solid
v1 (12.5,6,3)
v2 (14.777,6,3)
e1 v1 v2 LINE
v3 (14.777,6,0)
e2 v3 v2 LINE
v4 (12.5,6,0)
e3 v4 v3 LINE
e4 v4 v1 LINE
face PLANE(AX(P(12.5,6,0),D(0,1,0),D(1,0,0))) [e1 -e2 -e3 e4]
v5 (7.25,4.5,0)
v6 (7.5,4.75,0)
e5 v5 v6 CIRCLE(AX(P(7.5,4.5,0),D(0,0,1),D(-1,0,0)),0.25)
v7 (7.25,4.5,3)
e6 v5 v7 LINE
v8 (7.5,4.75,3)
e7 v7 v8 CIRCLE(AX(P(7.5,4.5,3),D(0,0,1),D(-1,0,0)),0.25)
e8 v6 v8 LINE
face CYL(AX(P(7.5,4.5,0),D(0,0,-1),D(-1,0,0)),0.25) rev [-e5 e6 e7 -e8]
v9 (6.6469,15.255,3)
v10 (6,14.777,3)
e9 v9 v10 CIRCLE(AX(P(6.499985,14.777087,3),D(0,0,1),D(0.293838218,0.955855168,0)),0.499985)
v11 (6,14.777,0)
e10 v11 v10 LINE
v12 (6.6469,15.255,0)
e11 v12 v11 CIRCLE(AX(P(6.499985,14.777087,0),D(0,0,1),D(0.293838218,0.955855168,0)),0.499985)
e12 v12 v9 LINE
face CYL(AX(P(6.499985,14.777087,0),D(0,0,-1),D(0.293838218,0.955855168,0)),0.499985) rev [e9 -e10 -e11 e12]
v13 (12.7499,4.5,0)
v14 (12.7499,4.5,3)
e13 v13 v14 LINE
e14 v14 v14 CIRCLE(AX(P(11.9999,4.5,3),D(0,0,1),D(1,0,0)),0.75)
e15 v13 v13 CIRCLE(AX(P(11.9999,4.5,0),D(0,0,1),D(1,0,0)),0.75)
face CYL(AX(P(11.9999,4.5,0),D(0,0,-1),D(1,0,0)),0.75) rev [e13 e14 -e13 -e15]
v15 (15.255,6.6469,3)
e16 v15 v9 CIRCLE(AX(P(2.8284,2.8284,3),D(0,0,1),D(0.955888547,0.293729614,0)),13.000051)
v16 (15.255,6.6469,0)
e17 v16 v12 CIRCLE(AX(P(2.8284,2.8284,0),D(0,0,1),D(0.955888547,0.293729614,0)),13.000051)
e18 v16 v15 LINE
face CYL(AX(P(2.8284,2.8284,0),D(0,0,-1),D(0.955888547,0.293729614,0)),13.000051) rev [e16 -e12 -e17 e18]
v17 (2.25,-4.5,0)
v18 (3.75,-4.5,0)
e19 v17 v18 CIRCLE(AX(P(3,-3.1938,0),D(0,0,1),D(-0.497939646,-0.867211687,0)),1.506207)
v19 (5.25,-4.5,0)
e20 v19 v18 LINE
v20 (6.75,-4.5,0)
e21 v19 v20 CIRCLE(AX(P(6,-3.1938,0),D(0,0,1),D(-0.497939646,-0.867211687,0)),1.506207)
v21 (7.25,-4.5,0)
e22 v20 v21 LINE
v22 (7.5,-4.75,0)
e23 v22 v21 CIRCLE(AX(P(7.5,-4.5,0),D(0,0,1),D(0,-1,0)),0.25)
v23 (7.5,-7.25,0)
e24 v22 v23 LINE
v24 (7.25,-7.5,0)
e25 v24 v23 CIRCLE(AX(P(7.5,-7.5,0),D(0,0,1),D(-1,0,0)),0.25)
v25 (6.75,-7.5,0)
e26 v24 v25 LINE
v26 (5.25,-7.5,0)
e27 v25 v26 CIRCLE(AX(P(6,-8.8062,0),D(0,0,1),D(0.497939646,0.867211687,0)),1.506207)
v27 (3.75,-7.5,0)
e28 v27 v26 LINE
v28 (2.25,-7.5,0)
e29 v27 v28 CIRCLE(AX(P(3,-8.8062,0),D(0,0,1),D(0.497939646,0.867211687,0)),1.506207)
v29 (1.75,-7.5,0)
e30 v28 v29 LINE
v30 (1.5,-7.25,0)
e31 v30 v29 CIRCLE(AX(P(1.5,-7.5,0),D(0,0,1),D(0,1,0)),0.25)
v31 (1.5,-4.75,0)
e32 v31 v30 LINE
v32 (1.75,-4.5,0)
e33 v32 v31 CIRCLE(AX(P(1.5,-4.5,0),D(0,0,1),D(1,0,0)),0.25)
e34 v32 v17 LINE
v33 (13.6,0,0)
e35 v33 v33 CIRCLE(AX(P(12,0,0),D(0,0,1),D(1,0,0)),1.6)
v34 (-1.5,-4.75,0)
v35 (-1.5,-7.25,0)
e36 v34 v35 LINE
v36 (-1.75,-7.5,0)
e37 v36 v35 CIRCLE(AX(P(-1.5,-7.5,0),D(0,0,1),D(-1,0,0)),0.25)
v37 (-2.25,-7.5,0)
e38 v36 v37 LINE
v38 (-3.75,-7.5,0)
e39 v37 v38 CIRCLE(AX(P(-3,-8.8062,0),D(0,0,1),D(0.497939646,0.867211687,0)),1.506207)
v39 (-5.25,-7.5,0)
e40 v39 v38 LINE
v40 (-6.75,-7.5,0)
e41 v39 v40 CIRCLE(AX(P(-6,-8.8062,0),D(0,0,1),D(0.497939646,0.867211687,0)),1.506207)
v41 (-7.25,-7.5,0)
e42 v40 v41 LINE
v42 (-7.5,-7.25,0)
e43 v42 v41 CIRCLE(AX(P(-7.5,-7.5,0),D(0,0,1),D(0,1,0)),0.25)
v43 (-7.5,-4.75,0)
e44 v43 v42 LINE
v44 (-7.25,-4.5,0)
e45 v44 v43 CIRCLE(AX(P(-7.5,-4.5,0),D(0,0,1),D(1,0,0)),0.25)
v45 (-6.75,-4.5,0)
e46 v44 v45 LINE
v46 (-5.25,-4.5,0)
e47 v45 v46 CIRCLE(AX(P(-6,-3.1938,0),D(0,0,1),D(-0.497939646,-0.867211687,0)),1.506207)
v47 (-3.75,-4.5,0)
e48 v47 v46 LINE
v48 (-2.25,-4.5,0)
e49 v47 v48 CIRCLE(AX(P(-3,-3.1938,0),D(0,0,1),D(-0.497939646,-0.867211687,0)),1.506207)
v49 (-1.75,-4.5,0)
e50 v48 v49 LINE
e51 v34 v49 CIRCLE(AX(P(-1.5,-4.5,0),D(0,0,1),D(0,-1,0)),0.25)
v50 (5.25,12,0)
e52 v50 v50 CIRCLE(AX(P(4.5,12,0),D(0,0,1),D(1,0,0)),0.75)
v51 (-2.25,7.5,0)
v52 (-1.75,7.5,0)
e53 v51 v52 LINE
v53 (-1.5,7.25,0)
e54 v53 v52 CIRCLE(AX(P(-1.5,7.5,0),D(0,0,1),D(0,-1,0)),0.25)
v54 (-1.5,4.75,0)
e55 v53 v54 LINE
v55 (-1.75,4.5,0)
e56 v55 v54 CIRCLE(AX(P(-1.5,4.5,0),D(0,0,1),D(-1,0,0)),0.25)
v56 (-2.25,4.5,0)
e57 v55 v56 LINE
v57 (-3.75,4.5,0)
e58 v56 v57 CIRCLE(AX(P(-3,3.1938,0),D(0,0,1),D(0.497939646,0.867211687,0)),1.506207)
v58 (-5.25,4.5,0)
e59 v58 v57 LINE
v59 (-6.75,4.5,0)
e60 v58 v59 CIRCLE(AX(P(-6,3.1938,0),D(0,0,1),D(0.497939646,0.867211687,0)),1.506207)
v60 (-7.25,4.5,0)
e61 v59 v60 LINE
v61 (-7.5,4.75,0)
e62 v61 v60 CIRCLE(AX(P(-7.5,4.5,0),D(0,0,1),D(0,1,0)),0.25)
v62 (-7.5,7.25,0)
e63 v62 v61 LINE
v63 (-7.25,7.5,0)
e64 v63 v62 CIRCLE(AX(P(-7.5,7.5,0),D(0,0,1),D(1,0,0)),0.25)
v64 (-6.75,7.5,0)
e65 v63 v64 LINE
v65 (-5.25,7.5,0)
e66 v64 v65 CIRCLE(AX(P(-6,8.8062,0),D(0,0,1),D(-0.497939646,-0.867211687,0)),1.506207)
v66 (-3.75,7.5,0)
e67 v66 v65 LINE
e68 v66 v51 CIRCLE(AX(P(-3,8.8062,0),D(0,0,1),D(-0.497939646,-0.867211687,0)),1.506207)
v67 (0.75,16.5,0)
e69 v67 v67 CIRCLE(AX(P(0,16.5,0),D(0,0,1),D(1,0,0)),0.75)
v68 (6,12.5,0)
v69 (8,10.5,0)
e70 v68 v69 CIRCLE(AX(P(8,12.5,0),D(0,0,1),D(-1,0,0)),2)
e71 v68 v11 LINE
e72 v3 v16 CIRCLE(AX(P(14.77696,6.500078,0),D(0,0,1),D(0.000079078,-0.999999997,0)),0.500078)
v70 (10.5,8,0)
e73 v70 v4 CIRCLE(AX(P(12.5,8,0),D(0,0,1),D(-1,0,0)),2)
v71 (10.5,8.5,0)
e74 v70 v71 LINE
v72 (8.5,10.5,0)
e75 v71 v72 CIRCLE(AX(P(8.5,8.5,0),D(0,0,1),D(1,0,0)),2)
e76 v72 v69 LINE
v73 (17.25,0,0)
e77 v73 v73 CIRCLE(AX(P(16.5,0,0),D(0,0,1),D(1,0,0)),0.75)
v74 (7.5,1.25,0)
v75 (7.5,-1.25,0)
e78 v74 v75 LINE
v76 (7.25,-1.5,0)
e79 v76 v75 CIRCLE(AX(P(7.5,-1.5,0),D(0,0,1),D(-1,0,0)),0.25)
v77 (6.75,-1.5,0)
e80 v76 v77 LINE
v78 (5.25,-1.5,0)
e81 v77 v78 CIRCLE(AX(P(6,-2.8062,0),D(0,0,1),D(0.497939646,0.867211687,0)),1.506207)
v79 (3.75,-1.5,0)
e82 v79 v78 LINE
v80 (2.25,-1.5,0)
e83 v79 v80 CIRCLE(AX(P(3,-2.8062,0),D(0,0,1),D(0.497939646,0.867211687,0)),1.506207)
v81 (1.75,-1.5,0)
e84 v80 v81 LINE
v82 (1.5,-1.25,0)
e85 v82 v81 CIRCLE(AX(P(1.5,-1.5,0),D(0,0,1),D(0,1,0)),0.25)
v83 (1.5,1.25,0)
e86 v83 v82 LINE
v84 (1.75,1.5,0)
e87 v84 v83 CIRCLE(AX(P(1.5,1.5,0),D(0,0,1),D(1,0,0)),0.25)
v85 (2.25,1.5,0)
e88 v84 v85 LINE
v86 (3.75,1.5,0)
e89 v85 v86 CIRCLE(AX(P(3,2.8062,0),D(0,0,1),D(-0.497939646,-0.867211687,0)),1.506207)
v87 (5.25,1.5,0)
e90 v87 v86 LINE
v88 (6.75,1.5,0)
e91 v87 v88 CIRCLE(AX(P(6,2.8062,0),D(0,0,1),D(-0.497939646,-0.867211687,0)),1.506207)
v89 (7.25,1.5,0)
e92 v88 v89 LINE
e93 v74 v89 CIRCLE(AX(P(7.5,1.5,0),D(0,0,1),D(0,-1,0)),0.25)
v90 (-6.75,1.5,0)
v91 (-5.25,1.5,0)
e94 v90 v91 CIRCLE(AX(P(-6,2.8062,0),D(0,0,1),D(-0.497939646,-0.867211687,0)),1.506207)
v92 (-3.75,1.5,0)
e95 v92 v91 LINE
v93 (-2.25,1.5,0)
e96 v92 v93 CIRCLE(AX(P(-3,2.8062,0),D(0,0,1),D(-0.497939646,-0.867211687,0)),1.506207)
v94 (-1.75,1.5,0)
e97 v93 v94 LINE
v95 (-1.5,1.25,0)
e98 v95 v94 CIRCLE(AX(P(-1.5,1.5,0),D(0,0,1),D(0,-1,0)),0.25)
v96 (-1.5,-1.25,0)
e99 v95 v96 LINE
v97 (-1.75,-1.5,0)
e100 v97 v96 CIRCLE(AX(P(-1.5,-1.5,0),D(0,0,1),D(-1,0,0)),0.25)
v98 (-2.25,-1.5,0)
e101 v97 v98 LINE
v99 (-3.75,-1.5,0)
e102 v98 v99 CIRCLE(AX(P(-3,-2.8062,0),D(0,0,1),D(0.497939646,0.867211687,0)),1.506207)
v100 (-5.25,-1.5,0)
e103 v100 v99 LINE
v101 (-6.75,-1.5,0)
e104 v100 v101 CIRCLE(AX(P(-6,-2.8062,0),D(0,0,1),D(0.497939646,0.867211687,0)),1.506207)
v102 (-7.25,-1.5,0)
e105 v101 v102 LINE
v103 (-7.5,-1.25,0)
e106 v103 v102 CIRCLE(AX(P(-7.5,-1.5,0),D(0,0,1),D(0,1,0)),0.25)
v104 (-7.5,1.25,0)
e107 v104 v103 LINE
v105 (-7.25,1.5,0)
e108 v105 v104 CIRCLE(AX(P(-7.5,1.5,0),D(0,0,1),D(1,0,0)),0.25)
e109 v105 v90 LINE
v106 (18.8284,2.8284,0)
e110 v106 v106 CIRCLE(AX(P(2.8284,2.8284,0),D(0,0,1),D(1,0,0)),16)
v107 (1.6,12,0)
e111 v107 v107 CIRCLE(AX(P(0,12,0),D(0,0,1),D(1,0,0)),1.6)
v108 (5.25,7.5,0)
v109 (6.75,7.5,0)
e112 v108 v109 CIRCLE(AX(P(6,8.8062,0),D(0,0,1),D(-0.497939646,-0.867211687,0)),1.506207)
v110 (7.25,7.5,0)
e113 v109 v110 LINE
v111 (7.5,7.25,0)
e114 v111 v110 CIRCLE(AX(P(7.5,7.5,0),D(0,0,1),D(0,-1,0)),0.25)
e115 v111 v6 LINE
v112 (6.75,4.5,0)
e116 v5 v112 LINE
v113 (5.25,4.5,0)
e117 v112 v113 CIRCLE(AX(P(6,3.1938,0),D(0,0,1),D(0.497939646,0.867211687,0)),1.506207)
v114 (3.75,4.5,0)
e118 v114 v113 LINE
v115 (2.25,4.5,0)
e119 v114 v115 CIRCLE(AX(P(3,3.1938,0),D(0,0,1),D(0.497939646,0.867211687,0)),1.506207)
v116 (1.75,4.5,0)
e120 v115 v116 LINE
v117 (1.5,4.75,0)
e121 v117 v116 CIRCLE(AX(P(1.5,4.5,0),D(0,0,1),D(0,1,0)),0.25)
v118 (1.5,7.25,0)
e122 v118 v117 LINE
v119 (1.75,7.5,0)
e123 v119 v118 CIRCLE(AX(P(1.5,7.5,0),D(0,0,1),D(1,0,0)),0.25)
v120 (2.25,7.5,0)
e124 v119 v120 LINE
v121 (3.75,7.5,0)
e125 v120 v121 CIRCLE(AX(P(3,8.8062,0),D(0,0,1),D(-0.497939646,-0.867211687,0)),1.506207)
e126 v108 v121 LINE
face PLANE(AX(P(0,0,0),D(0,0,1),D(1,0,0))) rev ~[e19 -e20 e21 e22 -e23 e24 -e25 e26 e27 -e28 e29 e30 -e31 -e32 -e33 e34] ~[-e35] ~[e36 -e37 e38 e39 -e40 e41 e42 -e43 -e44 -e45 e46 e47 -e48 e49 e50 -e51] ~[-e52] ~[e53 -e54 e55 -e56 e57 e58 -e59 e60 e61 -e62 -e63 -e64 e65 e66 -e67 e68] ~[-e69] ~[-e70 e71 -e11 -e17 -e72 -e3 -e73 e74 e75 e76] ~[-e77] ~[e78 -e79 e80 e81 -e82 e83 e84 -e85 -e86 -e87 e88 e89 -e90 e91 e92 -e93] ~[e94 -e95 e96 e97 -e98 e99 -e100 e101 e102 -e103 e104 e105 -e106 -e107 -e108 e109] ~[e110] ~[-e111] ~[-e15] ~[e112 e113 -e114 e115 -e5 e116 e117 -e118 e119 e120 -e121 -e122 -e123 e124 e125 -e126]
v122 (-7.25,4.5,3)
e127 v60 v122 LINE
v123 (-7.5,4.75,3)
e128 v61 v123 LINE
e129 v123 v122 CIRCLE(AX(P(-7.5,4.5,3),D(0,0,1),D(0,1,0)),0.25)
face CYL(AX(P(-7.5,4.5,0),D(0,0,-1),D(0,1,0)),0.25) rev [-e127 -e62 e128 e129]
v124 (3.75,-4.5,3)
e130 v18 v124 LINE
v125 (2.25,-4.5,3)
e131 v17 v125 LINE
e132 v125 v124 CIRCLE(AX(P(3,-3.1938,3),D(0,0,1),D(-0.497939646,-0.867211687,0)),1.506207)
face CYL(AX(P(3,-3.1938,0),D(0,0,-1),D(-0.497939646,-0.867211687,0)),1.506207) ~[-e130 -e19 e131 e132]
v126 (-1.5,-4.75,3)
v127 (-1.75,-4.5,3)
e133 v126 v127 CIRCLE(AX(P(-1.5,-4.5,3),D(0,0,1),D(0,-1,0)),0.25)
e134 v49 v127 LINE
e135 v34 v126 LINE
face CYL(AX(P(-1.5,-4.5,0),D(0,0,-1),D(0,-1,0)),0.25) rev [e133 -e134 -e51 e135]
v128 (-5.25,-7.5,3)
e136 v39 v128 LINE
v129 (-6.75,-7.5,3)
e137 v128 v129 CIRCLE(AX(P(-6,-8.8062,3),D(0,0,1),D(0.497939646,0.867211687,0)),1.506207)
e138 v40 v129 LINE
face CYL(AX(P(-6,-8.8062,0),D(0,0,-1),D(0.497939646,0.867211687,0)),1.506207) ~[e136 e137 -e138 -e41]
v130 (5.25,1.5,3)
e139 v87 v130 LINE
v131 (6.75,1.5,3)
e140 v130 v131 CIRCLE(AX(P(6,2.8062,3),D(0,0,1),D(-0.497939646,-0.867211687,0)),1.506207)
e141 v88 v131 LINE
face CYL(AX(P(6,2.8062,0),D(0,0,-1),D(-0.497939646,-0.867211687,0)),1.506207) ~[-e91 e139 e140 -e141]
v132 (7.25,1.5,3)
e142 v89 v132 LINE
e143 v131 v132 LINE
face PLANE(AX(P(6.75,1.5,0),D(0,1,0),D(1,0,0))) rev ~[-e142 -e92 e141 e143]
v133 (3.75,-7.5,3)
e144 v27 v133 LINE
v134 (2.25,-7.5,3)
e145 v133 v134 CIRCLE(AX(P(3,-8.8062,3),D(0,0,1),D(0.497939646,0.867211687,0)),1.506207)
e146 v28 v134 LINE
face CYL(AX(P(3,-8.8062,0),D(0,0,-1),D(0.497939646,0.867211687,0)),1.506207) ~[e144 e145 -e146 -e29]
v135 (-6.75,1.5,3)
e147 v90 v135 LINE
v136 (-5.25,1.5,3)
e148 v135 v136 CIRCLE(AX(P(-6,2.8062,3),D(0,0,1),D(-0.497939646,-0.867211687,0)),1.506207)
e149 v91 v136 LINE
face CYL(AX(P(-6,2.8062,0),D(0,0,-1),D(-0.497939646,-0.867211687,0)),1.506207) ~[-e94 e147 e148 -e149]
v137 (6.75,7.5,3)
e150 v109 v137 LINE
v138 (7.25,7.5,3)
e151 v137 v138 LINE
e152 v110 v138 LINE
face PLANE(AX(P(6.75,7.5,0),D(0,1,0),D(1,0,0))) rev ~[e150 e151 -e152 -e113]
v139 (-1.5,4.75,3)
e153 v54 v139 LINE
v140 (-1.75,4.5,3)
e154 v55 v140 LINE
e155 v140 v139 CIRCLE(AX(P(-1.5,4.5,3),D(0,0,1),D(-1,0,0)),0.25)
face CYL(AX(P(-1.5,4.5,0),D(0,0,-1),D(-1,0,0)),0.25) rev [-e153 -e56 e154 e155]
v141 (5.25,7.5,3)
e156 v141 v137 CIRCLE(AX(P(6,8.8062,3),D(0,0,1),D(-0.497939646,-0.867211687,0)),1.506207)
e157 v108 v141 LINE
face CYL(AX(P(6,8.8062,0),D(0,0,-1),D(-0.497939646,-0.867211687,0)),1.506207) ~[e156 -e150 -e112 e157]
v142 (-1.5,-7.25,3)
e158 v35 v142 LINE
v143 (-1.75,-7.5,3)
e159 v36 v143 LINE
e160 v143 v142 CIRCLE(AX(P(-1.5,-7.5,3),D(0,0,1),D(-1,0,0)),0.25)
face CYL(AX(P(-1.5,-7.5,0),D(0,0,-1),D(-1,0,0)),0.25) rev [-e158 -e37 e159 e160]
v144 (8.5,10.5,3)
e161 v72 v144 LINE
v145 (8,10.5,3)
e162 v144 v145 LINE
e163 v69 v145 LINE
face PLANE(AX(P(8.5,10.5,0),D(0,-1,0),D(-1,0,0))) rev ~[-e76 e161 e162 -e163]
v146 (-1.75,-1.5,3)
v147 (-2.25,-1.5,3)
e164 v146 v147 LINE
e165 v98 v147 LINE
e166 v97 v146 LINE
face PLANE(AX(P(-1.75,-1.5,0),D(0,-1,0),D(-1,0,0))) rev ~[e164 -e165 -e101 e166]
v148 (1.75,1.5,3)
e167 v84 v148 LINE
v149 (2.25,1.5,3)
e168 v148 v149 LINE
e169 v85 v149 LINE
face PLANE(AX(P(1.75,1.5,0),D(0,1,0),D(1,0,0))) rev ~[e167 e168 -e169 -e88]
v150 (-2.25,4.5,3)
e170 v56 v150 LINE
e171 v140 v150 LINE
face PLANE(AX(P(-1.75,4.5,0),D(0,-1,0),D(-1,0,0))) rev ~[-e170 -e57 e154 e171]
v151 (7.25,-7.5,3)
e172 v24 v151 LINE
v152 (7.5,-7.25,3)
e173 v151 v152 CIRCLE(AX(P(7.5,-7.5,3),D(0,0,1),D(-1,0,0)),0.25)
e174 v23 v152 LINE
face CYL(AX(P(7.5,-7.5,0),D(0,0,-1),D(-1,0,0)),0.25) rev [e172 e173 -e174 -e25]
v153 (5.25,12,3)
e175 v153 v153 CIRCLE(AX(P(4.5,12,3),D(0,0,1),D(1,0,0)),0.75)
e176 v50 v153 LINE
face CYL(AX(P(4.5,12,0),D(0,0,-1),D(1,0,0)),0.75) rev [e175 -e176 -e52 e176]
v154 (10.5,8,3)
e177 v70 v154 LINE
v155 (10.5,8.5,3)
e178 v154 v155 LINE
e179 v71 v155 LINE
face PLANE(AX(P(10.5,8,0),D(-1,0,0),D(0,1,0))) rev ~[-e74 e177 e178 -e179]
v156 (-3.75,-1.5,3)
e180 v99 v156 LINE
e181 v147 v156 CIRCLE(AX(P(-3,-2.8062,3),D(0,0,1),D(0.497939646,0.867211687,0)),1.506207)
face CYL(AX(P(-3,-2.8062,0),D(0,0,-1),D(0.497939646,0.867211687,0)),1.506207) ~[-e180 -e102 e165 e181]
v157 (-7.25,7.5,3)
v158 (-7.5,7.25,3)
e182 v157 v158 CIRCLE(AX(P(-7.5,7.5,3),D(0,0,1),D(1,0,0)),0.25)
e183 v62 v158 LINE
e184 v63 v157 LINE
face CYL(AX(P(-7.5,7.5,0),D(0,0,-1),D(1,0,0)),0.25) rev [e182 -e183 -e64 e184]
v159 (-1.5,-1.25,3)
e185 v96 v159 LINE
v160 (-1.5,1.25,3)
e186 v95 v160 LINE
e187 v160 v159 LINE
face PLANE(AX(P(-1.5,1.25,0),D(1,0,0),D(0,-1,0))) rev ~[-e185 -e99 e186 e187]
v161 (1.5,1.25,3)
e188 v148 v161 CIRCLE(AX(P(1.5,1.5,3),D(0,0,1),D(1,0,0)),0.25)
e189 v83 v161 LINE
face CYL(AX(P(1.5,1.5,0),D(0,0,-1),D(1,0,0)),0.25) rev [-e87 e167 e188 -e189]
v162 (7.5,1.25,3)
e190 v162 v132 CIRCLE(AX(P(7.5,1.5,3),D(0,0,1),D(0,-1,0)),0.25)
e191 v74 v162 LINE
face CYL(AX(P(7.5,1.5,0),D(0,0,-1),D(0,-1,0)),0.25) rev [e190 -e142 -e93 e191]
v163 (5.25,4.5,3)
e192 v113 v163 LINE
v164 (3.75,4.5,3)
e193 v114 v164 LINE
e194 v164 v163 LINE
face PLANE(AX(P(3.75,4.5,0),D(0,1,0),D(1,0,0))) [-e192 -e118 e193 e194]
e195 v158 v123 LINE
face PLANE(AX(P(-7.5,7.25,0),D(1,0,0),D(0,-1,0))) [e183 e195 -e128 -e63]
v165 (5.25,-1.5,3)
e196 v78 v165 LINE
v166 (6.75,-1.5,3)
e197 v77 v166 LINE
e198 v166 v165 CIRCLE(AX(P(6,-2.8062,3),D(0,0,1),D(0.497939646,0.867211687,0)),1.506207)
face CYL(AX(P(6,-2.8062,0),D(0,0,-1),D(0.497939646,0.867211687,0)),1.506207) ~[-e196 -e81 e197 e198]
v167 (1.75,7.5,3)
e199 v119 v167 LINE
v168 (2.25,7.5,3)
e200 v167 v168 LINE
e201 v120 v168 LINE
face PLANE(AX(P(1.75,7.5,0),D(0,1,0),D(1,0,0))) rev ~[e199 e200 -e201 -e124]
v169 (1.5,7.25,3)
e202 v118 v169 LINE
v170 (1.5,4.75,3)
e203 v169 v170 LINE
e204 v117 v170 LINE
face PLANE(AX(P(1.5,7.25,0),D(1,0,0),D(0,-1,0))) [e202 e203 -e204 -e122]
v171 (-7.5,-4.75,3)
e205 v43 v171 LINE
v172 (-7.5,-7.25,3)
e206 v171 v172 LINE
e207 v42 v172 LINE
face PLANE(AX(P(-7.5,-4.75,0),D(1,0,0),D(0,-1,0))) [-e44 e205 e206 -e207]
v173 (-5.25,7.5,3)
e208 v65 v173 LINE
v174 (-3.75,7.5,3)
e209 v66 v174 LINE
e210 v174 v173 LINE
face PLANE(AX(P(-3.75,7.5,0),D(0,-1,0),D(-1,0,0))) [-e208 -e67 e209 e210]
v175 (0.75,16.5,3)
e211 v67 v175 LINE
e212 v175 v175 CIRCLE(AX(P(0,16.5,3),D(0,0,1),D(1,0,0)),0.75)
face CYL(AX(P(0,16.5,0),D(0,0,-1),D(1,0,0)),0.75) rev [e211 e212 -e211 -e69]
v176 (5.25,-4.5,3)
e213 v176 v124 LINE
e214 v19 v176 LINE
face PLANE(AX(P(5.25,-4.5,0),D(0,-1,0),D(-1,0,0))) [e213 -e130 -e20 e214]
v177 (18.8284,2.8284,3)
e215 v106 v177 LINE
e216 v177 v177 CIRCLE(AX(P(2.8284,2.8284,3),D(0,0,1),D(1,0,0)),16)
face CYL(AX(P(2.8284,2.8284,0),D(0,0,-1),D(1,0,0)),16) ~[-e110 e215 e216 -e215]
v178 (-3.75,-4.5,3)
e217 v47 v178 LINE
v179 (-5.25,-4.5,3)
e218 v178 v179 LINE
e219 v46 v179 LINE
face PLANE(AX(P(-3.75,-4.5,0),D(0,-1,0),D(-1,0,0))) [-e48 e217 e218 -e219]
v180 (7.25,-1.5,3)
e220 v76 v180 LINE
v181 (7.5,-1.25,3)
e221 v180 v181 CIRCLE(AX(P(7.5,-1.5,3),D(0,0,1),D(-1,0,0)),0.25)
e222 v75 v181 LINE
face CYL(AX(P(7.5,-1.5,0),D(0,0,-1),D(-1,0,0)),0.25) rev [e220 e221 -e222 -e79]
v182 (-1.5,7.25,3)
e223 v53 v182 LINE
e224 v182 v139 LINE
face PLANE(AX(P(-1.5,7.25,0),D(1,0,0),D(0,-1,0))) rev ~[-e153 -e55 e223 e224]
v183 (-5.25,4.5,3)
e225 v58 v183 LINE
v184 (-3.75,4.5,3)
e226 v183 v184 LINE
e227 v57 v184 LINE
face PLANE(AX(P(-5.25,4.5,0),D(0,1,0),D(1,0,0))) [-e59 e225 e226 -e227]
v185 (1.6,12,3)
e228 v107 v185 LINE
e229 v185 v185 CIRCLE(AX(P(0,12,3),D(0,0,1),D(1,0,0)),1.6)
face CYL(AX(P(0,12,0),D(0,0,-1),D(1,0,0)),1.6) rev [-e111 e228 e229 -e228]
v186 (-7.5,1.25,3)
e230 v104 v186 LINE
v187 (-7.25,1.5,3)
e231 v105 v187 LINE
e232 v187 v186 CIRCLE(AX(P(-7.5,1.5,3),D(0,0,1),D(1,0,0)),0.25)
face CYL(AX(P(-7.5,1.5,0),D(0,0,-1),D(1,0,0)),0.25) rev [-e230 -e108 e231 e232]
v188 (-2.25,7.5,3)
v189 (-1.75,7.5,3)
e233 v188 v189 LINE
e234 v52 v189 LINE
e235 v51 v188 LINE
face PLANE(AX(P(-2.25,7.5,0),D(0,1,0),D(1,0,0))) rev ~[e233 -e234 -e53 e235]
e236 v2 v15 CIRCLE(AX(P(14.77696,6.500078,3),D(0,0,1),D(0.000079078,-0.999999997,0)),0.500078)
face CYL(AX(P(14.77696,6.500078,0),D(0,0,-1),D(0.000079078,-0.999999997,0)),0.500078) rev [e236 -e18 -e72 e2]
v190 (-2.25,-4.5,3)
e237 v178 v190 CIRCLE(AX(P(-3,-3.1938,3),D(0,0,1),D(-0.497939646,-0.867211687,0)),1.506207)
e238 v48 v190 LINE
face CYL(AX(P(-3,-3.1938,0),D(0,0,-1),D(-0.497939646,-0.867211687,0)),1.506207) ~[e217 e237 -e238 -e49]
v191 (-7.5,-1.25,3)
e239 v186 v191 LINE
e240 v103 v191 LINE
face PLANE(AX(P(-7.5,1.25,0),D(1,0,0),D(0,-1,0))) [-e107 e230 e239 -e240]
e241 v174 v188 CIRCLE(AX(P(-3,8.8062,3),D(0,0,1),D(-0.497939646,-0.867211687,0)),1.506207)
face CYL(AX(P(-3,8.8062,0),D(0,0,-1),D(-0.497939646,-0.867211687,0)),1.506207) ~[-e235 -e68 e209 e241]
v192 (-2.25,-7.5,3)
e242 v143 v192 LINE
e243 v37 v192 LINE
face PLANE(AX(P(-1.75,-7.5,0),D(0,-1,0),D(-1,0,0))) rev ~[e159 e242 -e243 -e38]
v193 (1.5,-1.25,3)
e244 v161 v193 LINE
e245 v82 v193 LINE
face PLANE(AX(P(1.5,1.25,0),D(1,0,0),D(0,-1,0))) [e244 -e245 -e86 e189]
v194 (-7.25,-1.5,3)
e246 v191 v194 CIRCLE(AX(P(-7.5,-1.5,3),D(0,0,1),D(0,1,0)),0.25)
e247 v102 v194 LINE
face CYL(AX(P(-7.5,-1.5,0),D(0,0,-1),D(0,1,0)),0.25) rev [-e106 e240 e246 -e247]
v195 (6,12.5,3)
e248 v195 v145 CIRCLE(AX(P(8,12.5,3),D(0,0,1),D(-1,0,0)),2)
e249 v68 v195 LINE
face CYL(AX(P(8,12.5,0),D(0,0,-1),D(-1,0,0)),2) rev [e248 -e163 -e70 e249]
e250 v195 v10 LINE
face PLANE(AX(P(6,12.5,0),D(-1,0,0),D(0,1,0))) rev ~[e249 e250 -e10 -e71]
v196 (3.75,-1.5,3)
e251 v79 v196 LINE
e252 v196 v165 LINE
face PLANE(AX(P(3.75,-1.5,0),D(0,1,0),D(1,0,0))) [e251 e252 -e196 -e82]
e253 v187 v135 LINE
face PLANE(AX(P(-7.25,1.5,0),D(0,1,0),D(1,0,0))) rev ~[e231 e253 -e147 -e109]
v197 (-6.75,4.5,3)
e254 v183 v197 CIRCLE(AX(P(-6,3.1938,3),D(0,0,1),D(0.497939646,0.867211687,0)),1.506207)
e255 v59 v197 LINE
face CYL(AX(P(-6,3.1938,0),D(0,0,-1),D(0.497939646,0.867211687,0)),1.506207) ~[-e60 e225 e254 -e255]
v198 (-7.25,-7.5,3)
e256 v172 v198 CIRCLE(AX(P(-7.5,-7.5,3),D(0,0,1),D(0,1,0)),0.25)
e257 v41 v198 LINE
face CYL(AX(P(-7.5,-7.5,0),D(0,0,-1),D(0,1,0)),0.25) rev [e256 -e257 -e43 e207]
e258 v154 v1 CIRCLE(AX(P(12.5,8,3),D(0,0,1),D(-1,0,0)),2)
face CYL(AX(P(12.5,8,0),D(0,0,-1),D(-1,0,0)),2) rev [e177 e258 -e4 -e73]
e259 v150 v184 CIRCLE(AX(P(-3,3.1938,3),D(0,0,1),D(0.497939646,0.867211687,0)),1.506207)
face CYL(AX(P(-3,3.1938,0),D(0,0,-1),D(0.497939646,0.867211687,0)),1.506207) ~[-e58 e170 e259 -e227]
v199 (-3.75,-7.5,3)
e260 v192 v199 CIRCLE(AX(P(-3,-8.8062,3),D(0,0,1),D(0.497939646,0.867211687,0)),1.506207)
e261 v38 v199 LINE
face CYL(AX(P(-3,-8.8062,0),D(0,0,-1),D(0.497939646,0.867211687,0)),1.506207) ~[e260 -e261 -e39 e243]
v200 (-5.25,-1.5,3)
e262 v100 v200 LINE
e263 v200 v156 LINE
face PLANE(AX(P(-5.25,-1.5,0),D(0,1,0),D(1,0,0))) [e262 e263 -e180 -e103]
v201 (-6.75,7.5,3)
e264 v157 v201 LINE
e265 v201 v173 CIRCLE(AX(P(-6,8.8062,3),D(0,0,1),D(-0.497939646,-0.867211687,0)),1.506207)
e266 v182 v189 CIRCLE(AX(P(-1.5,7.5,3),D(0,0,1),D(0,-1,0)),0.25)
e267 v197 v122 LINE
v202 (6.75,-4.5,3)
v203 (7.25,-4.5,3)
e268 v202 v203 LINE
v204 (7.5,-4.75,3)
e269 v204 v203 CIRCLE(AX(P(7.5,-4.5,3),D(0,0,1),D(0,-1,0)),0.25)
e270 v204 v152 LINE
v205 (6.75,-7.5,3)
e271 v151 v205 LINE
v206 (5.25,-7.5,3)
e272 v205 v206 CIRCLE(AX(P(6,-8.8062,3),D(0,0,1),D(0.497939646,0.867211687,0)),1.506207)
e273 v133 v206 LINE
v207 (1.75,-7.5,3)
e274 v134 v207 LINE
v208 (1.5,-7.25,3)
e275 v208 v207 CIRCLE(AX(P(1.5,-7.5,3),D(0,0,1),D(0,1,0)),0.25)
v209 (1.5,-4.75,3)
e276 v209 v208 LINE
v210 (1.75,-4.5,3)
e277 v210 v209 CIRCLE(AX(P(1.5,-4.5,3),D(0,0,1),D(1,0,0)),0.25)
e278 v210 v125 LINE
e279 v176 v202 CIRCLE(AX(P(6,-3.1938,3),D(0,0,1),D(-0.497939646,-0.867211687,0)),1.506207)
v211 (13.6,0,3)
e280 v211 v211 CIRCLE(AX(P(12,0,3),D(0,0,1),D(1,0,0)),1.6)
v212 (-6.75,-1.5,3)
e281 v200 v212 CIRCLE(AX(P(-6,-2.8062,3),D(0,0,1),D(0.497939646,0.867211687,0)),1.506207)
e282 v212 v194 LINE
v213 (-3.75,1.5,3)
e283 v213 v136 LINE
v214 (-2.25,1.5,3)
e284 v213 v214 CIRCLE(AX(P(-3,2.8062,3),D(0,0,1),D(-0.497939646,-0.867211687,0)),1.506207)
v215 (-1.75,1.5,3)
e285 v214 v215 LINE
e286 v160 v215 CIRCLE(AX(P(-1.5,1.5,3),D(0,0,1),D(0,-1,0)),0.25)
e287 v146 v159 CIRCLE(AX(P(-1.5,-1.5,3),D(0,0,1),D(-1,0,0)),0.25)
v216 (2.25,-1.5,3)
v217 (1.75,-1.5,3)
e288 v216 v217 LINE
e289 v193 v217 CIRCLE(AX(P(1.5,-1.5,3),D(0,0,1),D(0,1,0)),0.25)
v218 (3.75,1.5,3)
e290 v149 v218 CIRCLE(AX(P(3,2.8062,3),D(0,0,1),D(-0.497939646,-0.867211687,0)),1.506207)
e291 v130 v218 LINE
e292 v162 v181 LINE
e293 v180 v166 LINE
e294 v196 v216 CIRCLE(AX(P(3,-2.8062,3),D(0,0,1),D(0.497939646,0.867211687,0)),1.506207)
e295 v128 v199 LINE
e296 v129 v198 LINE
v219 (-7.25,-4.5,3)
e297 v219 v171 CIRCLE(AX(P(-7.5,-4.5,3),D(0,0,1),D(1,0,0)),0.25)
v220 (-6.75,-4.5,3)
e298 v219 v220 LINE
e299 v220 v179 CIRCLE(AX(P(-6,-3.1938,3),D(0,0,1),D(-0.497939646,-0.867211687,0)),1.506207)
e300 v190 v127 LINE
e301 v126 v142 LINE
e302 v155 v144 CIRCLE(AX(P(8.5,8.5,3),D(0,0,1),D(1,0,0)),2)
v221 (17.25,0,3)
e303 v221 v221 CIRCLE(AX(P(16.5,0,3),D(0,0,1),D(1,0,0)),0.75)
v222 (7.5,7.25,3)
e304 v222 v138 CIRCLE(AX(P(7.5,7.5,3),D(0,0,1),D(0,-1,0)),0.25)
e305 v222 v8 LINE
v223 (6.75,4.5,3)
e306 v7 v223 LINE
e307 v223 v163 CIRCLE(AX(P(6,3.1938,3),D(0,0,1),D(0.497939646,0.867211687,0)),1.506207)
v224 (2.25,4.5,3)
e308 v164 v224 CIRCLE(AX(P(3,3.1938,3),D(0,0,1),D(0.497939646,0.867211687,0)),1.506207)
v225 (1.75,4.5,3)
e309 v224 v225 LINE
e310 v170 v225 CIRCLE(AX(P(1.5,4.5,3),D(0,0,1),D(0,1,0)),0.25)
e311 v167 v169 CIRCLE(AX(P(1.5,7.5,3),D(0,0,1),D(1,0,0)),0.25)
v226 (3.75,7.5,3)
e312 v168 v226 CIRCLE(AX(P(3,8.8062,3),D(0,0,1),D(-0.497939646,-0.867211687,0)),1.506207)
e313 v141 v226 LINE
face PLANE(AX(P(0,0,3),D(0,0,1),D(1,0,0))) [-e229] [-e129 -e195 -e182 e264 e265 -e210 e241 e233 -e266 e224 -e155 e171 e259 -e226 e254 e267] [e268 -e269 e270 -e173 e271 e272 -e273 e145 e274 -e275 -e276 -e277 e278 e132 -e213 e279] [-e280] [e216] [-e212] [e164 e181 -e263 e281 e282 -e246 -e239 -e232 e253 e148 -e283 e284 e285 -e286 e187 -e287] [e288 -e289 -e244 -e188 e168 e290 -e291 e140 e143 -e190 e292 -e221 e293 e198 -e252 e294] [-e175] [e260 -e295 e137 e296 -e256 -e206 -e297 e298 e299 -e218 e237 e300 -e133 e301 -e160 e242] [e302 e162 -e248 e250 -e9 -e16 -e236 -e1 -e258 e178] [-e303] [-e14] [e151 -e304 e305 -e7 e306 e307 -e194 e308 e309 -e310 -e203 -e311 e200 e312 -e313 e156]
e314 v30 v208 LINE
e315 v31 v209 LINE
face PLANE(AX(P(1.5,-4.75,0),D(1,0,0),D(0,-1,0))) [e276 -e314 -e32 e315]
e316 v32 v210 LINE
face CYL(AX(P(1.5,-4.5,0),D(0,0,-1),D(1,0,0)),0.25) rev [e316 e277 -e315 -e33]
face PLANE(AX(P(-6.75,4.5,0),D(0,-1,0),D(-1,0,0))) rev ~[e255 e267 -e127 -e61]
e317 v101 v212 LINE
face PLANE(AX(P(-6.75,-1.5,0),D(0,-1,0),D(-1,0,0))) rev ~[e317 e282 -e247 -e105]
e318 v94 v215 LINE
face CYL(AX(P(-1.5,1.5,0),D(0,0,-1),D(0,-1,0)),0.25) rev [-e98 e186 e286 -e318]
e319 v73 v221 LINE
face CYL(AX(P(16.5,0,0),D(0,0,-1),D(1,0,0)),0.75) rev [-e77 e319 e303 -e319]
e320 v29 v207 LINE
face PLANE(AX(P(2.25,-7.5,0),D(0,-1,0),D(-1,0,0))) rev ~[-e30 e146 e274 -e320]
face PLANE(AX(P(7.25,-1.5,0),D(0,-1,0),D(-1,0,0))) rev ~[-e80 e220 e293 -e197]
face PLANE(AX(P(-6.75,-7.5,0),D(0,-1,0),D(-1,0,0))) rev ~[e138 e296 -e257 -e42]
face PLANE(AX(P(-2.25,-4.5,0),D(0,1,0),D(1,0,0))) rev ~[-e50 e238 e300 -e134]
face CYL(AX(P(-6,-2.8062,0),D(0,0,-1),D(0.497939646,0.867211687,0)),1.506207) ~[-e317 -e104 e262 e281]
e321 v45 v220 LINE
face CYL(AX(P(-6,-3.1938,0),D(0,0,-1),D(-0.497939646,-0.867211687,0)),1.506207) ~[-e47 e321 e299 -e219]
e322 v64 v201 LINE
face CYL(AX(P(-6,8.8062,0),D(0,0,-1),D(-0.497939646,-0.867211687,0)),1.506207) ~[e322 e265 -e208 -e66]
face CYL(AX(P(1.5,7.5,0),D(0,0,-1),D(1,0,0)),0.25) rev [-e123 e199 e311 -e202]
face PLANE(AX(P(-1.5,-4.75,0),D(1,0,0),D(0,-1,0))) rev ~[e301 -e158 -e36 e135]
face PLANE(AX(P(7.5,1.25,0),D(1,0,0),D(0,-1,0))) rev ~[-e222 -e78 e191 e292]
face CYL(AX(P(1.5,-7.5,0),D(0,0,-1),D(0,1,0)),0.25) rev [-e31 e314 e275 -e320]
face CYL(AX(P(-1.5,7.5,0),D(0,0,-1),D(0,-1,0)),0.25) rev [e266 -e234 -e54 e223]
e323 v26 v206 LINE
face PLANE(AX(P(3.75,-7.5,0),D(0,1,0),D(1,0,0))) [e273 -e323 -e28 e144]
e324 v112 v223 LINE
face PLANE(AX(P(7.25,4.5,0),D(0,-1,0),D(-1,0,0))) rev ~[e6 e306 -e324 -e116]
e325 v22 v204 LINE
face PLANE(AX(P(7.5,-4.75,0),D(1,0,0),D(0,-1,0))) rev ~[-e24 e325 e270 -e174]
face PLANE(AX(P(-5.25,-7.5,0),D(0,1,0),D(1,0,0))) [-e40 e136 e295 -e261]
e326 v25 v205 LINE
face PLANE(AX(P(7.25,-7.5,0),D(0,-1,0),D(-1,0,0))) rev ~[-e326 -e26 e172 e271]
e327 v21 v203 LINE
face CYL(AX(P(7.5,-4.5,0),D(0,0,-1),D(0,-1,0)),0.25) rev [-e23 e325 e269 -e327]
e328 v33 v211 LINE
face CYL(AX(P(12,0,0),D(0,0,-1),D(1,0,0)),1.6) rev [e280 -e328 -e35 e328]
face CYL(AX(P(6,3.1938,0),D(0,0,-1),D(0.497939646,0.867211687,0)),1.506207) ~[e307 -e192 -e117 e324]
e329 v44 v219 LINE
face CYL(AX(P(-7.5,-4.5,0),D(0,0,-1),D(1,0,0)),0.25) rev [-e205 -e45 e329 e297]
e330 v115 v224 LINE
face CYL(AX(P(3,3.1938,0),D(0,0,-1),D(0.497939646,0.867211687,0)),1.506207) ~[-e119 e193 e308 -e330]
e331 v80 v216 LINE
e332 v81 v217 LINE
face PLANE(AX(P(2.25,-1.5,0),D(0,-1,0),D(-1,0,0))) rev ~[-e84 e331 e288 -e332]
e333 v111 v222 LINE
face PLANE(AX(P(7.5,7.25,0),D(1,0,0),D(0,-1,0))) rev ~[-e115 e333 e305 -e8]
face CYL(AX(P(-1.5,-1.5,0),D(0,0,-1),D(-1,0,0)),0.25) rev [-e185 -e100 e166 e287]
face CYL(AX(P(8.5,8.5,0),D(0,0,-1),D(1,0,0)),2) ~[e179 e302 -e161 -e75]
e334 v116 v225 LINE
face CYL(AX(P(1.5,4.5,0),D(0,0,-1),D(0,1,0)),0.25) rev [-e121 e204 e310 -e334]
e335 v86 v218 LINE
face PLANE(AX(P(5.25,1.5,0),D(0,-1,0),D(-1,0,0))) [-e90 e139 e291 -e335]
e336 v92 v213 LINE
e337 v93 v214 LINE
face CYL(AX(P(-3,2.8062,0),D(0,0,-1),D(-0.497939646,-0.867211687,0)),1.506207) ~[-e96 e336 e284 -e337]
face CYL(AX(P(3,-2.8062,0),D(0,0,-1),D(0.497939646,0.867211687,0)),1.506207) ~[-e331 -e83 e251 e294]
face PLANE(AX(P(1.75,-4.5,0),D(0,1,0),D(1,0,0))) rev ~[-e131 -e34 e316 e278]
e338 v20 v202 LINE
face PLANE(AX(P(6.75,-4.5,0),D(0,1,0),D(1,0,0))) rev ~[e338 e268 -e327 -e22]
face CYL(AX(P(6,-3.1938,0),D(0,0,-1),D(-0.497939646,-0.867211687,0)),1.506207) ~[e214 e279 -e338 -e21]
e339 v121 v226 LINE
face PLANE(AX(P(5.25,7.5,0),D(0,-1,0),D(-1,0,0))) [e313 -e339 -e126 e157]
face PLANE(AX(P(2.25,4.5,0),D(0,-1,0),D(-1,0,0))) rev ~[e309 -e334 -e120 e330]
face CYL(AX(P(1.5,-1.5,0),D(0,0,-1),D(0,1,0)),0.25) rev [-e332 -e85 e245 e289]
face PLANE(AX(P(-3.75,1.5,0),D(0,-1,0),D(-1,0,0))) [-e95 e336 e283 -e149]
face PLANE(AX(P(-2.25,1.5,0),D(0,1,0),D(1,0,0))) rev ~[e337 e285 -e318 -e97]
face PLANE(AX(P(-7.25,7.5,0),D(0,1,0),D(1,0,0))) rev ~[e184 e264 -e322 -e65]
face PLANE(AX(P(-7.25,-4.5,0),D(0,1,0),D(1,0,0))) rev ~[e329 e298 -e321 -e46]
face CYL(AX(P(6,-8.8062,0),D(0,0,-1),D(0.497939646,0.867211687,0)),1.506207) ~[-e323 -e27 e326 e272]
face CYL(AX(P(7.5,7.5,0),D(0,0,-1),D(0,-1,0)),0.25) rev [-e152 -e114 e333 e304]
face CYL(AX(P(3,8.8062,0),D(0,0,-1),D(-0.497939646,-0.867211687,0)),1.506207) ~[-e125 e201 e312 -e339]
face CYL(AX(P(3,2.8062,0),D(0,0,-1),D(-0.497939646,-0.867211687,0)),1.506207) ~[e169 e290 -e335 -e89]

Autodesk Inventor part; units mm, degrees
ref_plane "YZ Plane" through (0, 0, 0) normal (1, 0, 0) x (0, 1, 0)
ref_plane "XZ Plane" through (0, 0, 0) normal (0, 1, 0) x (-1, 0, 0)
ref_plane "XY Plane" through (0, 0, 0) normal (0, 0, 1) x (1, 0, 0)
sketch "Sketch1" plane through (0, 0, 0) normal (0, 0, 1) x (1, 0, 0)
  circle A0 centre (0, 12) radius 1.6
  circle A1 centre (12, 0) radius 1.6
  circle A2 centre (0, 16.5) radius 0.75
  circle A3 centre (16.5, 0) radius 0.75
  arc A4 (-7.25, 7.5) -> (-7.5, 7.25) centre (-7.5, 7.5) ccw
  arc A5 (-6.75, 7.5) -> (-5.25, 7.5) centre (-6, 8.8062) ccw
  arc A6 (-1.5, 7.25) -> (-1.75, 7.5) centre (-1.5, 7.5) ccw
  arc A7 (-3.75, 7.5) -> (-2.25, 7.5) centre (-3, 8.8062) ccw
  arc A8 (-7.5, 4.75) -> (-7.25, 4.5) centre (-7.5, 4.5) ccw
  arc A9 (-5.25, 4.5) -> (-6.75, 4.5) centre (-6, 3.1938) ccw
  arc A10 (-2.25, 4.5) -> (-3.75, 4.5) centre (-3, 3.1938) ccw
  arc A11 (-1.75, 4.5) -> (-1.5, 4.75) centre (-1.5, 4.5) ccw
  line L0 (-1.5, 7.25) -> (-1.5, 4.75)
  line L1 (-1.75, 4.5) -> (-2.25, 4.5)
  line L2 (-2.25, 7.5) -> (-1.75, 7.5)
  line L3 (-3.75, 7.5) -> (-5.25, 7.5)
  line L4 (-5.25, 4.5) -> (-3.75, 4.5)
  line L5 (-7.25, 7.5) -> (-6.75, 7.5)
  line L6 (-7.5, 7.25) -> (-7.5, 4.75)
  line L7 (-6.75, 4.5) -> (-7.25, 4.5)
  arc A12 (1.75, 7.5) -> (1.5, 7.25) centre (1.5, 7.5) ccw
  arc A13 (2.25, 7.5) -> (3.75, 7.5) centre (3, 8.8062) ccw
  arc A14 (5.25, 7.5) -> (6.75, 7.5) centre (6, 8.8062) ccw
  arc A15 (7.5, 7.25) -> (7.25, 7.5) centre (7.5, 7.5) ccw
  arc A16 (6.75, 4.5) -> (5.25, 4.5) centre (6, 3.1938) ccw
  arc A17 (7.25, 4.5) -> (7.5, 4.75) centre (7.5, 4.5) ccw
  arc A18 (3.75, 4.5) -> (2.25, 4.5) centre (3, 3.1938) ccw
  arc A19 (1.5, 4.75) -> (1.75, 4.5) centre (1.5, 4.5) ccw
  line L8 (7.5, 7.25) -> (7.5, 4.75)
  line L9 (7.25, 4.5) -> (6.75, 4.5)
  line L10 (6.75, 7.5) -> (7.25, 7.5)
  line L11 (5.25, 7.5) -> (3.75, 7.5)
  line L12 (3.75, 4.5) -> (5.25, 4.5)
  line L13 (1.75, 7.5) -> (2.25, 7.5)
  line L14 (1.5, 7.25) -> (1.5, 4.75)
  line L15 (2.25, 4.5) -> (1.75, 4.5)
  arc A20 (-7.25, 1.5) -> (-7.5, 1.25) centre (-7.5, 1.5) ccw
  arc A21 (-6.75, 1.5) -> (-5.25, 1.5) centre (-6, 2.8062) ccw
  arc A22 (-3.75, 1.5) -> (-2.25, 1.5) centre (-3, 2.8062) ccw
  arc A23 (-1.5, 1.25) -> (-1.75, 1.5) centre (-1.5, 1.5) ccw
  arc A24 (-2.25, -1.5) -> (-3.75, -1.5) centre (-3, -2.8062) ccw
  arc A25 (-1.75, -1.5) -> (-1.5, -1.25) centre (-1.5, -1.5) ccw
  arc A26 (-5.25, -1.5) -> (-6.75, -1.5) centre (-6, -2.8062) ccw
  arc A27 (-7.5, -1.25) -> (-7.25, -1.5) centre (-7.5, -1.5) ccw
  line L16 (-1.5, 1.25) -> (-1.5, -1.25)
  line L17 (-1.75, -1.5) -> (-2.25, -1.5)
  line L18 (-2.25, 1.5) -> (-1.75, 1.5)
  line L19 (-3.75, 1.5) -> (-5.25, 1.5)
  line L20 (-5.25, -1.5) -> (-3.75, -1.5)
  line L21 (-7.25, 1.5) -> (-6.75, 1.5)
  line L22 (-7.5, 1.25) -> (-7.5, -1.25)
  line L23 (-6.75, -1.5) -> (-7.25, -1.5)
  arc A28 (1.75, 1.5) -> (1.5, 1.25) centre (1.5, 1.5) ccw
  arc A29 (2.25, 1.5) -> (3.75, 1.5) centre (3, 2.8062) ccw
  arc A30 (5.25, 1.5) -> (6.75, 1.5) centre (6, 2.8062) ccw
  arc A31 (7.5, 1.25) -> (7.25, 1.5) centre (7.5, 1.5) ccw
  arc A32 (6.75, -1.5) -> (5.25, -1.5) centre (6, -2.8062) ccw
  arc A33 (7.25, -1.5) -> (7.5, -1.25) centre (7.5, -1.5) ccw
  arc A34 (3.75, -1.5) -> (2.25, -1.5) centre (3, -2.8062) ccw
  arc A35 (1.5, -1.25) -> (1.75, -1.5) centre (1.5, -1.5) ccw
  line L24 (7.5, 1.25) -> (7.5, -1.25)
  line L25 (7.25, -1.5) -> (6.75, -1.5)
  line L26 (6.75, 1.5) -> (7.25, 1.5)
  line L27 (5.25, 1.5) -> (3.75, 1.5)
  line L28 (3.75, -1.5) -> (5.25, -1.5)
  line L29 (1.75, 1.5) -> (2.25, 1.5)
  line L30 (1.5, 1.25) -> (1.5, -1.25)
  line L31 (2.25, -1.5) -> (1.75, -1.5)
  arc A36 (-7.25, -4.5) -> (-7.5, -4.75) centre (-7.5, -4.5) ccw
  arc A37 (-6.75, -4.5) -> (-5.25, -4.5) centre (-6, -3.1938) ccw
  arc A38 (-3.75, -4.5) -> (-2.25, -4.5) centre (-3, -3.1938) ccw
  arc A39 (-1.5, -4.75) -> (-1.75, -4.5) centre (-1.5, -4.5) ccw
  arc A40 (-2.25, -7.5) -> (-3.75, -7.5) centre (-3, -8.8062) ccw
  arc A41 (-1.75, -7.5) -> (-1.5, -7.25) centre (-1.5, -7.5) ccw
  arc A42 (-5.25, -7.5) -> (-6.75, -7.5) centre (-6, -8.8062) ccw
  arc A43 (-7.5, -7.25) -> (-7.25, -7.5) centre (-7.5, -7.5) ccw
  line L32 (-1.5, -4.75) -> (-1.5, -7.25)
  line L33 (-1.75, -7.5) -> (-2.25, -7.5)
  line L34 (-2.25, -4.5) -> (-1.75, -4.5)
  line L35 (-3.75, -4.5) -> (-5.25, -4.5)
  line L36 (-5.25, -7.5) -> (-3.75, -7.5)
  line L37 (-7.25, -4.5) -> (-6.75, -4.5)
  line L38 (-7.5, -4.75) -> (-7.5, -7.25)
  line L39 (-6.75, -7.5) -> (-7.25, -7.5)
  arc A44 (1.75, -4.5) -> (1.5, -4.75) centre (1.5, -4.5) ccw
  arc A45 (2.25, -4.5) -> (3.75, -4.5) centre (3, -3.1938) ccw
  arc A46 (5.25, -4.5) -> (6.75, -4.5) centre (6, -3.1938) ccw
  arc A47 (7.5, -4.75) -> (7.25, -4.5) centre (7.5, -4.5) ccw
  arc A48 (6.75, -7.5) -> (5.25, -7.5) centre (6, -8.8062) ccw
  arc A49 (7.25, -7.5) -> (7.5, -7.25) centre (7.5, -7.5) ccw
  arc A50 (3.75, -7.5) -> (2.25, -7.5) centre (3, -8.8062) ccw
  arc A51 (1.5, -7.25) -> (1.75, -7.5) centre (1.5, -7.5) ccw
  line L40 (7.5, -4.75) -> (7.5, -7.25)
  line L41 (7.25, -7.5) -> (6.75, -7.5)
  line L42 (6.75, -4.5) -> (7.25, -4.5)
  line L43 (5.25, -4.5) -> (3.75, -4.5)
  line L44 (3.75, -7.5) -> (5.25, -7.5)
  line L45 (1.75, -4.5) -> (2.25, -4.5)
  line L46 (1.5, -4.75) -> (1.5, -7.25)
  line L47 (2.25, -7.5) -> (1.75, -7.5)
  circle A52 centre (2.8284, 2.8284) radius 16
  circle A53 centre (4.5, 12) radius 0.75
  circle A54 centre (11.9999, 4.5) radius 0.75
  line L48 (10.5, 8) -> (10.5, 8.5)
  line L49 (8.5, 10.5) -> (8, 10.5)
  line L50 (6, 12.5) -> (6, 14.777)
  line L51 (12.5, 6) -> (14.777, 6)
  arc A55 (15.255, 6.6469) -> (6.6469, 15.255) centre (2.8284, 2.8284) ccw
  arc A56 (10.5, 8.5) -> (8.5, 10.5) centre (8.5, 8.5) ccw
  arc A57 (10.5, 8) -> (12.5, 6) centre (12.5, 8) ccw
  arc A58 (6, 12.5) -> (8, 10.5) centre (8, 12.5) ccw
  arc A59 (6.6469, 15.255) -> (6, 14.777) centre (6.5, 14.777) ccw
  arc A60 (14.777, 6) -> (15.255, 6.6469) centre (14.777, 6.5) ccw
  point P0 (6, 15.4356)
  point P1 (15.4356, 6)
  dimension "d123" = 4.5
  dimension "d124" = 4.5
  dimension "d125" = 4.5
  dimension "d126" = 4.5
extrude "Extrusion1" add sketch "Sketch1" along normal blind 3
properties part number "Segment_Small"
